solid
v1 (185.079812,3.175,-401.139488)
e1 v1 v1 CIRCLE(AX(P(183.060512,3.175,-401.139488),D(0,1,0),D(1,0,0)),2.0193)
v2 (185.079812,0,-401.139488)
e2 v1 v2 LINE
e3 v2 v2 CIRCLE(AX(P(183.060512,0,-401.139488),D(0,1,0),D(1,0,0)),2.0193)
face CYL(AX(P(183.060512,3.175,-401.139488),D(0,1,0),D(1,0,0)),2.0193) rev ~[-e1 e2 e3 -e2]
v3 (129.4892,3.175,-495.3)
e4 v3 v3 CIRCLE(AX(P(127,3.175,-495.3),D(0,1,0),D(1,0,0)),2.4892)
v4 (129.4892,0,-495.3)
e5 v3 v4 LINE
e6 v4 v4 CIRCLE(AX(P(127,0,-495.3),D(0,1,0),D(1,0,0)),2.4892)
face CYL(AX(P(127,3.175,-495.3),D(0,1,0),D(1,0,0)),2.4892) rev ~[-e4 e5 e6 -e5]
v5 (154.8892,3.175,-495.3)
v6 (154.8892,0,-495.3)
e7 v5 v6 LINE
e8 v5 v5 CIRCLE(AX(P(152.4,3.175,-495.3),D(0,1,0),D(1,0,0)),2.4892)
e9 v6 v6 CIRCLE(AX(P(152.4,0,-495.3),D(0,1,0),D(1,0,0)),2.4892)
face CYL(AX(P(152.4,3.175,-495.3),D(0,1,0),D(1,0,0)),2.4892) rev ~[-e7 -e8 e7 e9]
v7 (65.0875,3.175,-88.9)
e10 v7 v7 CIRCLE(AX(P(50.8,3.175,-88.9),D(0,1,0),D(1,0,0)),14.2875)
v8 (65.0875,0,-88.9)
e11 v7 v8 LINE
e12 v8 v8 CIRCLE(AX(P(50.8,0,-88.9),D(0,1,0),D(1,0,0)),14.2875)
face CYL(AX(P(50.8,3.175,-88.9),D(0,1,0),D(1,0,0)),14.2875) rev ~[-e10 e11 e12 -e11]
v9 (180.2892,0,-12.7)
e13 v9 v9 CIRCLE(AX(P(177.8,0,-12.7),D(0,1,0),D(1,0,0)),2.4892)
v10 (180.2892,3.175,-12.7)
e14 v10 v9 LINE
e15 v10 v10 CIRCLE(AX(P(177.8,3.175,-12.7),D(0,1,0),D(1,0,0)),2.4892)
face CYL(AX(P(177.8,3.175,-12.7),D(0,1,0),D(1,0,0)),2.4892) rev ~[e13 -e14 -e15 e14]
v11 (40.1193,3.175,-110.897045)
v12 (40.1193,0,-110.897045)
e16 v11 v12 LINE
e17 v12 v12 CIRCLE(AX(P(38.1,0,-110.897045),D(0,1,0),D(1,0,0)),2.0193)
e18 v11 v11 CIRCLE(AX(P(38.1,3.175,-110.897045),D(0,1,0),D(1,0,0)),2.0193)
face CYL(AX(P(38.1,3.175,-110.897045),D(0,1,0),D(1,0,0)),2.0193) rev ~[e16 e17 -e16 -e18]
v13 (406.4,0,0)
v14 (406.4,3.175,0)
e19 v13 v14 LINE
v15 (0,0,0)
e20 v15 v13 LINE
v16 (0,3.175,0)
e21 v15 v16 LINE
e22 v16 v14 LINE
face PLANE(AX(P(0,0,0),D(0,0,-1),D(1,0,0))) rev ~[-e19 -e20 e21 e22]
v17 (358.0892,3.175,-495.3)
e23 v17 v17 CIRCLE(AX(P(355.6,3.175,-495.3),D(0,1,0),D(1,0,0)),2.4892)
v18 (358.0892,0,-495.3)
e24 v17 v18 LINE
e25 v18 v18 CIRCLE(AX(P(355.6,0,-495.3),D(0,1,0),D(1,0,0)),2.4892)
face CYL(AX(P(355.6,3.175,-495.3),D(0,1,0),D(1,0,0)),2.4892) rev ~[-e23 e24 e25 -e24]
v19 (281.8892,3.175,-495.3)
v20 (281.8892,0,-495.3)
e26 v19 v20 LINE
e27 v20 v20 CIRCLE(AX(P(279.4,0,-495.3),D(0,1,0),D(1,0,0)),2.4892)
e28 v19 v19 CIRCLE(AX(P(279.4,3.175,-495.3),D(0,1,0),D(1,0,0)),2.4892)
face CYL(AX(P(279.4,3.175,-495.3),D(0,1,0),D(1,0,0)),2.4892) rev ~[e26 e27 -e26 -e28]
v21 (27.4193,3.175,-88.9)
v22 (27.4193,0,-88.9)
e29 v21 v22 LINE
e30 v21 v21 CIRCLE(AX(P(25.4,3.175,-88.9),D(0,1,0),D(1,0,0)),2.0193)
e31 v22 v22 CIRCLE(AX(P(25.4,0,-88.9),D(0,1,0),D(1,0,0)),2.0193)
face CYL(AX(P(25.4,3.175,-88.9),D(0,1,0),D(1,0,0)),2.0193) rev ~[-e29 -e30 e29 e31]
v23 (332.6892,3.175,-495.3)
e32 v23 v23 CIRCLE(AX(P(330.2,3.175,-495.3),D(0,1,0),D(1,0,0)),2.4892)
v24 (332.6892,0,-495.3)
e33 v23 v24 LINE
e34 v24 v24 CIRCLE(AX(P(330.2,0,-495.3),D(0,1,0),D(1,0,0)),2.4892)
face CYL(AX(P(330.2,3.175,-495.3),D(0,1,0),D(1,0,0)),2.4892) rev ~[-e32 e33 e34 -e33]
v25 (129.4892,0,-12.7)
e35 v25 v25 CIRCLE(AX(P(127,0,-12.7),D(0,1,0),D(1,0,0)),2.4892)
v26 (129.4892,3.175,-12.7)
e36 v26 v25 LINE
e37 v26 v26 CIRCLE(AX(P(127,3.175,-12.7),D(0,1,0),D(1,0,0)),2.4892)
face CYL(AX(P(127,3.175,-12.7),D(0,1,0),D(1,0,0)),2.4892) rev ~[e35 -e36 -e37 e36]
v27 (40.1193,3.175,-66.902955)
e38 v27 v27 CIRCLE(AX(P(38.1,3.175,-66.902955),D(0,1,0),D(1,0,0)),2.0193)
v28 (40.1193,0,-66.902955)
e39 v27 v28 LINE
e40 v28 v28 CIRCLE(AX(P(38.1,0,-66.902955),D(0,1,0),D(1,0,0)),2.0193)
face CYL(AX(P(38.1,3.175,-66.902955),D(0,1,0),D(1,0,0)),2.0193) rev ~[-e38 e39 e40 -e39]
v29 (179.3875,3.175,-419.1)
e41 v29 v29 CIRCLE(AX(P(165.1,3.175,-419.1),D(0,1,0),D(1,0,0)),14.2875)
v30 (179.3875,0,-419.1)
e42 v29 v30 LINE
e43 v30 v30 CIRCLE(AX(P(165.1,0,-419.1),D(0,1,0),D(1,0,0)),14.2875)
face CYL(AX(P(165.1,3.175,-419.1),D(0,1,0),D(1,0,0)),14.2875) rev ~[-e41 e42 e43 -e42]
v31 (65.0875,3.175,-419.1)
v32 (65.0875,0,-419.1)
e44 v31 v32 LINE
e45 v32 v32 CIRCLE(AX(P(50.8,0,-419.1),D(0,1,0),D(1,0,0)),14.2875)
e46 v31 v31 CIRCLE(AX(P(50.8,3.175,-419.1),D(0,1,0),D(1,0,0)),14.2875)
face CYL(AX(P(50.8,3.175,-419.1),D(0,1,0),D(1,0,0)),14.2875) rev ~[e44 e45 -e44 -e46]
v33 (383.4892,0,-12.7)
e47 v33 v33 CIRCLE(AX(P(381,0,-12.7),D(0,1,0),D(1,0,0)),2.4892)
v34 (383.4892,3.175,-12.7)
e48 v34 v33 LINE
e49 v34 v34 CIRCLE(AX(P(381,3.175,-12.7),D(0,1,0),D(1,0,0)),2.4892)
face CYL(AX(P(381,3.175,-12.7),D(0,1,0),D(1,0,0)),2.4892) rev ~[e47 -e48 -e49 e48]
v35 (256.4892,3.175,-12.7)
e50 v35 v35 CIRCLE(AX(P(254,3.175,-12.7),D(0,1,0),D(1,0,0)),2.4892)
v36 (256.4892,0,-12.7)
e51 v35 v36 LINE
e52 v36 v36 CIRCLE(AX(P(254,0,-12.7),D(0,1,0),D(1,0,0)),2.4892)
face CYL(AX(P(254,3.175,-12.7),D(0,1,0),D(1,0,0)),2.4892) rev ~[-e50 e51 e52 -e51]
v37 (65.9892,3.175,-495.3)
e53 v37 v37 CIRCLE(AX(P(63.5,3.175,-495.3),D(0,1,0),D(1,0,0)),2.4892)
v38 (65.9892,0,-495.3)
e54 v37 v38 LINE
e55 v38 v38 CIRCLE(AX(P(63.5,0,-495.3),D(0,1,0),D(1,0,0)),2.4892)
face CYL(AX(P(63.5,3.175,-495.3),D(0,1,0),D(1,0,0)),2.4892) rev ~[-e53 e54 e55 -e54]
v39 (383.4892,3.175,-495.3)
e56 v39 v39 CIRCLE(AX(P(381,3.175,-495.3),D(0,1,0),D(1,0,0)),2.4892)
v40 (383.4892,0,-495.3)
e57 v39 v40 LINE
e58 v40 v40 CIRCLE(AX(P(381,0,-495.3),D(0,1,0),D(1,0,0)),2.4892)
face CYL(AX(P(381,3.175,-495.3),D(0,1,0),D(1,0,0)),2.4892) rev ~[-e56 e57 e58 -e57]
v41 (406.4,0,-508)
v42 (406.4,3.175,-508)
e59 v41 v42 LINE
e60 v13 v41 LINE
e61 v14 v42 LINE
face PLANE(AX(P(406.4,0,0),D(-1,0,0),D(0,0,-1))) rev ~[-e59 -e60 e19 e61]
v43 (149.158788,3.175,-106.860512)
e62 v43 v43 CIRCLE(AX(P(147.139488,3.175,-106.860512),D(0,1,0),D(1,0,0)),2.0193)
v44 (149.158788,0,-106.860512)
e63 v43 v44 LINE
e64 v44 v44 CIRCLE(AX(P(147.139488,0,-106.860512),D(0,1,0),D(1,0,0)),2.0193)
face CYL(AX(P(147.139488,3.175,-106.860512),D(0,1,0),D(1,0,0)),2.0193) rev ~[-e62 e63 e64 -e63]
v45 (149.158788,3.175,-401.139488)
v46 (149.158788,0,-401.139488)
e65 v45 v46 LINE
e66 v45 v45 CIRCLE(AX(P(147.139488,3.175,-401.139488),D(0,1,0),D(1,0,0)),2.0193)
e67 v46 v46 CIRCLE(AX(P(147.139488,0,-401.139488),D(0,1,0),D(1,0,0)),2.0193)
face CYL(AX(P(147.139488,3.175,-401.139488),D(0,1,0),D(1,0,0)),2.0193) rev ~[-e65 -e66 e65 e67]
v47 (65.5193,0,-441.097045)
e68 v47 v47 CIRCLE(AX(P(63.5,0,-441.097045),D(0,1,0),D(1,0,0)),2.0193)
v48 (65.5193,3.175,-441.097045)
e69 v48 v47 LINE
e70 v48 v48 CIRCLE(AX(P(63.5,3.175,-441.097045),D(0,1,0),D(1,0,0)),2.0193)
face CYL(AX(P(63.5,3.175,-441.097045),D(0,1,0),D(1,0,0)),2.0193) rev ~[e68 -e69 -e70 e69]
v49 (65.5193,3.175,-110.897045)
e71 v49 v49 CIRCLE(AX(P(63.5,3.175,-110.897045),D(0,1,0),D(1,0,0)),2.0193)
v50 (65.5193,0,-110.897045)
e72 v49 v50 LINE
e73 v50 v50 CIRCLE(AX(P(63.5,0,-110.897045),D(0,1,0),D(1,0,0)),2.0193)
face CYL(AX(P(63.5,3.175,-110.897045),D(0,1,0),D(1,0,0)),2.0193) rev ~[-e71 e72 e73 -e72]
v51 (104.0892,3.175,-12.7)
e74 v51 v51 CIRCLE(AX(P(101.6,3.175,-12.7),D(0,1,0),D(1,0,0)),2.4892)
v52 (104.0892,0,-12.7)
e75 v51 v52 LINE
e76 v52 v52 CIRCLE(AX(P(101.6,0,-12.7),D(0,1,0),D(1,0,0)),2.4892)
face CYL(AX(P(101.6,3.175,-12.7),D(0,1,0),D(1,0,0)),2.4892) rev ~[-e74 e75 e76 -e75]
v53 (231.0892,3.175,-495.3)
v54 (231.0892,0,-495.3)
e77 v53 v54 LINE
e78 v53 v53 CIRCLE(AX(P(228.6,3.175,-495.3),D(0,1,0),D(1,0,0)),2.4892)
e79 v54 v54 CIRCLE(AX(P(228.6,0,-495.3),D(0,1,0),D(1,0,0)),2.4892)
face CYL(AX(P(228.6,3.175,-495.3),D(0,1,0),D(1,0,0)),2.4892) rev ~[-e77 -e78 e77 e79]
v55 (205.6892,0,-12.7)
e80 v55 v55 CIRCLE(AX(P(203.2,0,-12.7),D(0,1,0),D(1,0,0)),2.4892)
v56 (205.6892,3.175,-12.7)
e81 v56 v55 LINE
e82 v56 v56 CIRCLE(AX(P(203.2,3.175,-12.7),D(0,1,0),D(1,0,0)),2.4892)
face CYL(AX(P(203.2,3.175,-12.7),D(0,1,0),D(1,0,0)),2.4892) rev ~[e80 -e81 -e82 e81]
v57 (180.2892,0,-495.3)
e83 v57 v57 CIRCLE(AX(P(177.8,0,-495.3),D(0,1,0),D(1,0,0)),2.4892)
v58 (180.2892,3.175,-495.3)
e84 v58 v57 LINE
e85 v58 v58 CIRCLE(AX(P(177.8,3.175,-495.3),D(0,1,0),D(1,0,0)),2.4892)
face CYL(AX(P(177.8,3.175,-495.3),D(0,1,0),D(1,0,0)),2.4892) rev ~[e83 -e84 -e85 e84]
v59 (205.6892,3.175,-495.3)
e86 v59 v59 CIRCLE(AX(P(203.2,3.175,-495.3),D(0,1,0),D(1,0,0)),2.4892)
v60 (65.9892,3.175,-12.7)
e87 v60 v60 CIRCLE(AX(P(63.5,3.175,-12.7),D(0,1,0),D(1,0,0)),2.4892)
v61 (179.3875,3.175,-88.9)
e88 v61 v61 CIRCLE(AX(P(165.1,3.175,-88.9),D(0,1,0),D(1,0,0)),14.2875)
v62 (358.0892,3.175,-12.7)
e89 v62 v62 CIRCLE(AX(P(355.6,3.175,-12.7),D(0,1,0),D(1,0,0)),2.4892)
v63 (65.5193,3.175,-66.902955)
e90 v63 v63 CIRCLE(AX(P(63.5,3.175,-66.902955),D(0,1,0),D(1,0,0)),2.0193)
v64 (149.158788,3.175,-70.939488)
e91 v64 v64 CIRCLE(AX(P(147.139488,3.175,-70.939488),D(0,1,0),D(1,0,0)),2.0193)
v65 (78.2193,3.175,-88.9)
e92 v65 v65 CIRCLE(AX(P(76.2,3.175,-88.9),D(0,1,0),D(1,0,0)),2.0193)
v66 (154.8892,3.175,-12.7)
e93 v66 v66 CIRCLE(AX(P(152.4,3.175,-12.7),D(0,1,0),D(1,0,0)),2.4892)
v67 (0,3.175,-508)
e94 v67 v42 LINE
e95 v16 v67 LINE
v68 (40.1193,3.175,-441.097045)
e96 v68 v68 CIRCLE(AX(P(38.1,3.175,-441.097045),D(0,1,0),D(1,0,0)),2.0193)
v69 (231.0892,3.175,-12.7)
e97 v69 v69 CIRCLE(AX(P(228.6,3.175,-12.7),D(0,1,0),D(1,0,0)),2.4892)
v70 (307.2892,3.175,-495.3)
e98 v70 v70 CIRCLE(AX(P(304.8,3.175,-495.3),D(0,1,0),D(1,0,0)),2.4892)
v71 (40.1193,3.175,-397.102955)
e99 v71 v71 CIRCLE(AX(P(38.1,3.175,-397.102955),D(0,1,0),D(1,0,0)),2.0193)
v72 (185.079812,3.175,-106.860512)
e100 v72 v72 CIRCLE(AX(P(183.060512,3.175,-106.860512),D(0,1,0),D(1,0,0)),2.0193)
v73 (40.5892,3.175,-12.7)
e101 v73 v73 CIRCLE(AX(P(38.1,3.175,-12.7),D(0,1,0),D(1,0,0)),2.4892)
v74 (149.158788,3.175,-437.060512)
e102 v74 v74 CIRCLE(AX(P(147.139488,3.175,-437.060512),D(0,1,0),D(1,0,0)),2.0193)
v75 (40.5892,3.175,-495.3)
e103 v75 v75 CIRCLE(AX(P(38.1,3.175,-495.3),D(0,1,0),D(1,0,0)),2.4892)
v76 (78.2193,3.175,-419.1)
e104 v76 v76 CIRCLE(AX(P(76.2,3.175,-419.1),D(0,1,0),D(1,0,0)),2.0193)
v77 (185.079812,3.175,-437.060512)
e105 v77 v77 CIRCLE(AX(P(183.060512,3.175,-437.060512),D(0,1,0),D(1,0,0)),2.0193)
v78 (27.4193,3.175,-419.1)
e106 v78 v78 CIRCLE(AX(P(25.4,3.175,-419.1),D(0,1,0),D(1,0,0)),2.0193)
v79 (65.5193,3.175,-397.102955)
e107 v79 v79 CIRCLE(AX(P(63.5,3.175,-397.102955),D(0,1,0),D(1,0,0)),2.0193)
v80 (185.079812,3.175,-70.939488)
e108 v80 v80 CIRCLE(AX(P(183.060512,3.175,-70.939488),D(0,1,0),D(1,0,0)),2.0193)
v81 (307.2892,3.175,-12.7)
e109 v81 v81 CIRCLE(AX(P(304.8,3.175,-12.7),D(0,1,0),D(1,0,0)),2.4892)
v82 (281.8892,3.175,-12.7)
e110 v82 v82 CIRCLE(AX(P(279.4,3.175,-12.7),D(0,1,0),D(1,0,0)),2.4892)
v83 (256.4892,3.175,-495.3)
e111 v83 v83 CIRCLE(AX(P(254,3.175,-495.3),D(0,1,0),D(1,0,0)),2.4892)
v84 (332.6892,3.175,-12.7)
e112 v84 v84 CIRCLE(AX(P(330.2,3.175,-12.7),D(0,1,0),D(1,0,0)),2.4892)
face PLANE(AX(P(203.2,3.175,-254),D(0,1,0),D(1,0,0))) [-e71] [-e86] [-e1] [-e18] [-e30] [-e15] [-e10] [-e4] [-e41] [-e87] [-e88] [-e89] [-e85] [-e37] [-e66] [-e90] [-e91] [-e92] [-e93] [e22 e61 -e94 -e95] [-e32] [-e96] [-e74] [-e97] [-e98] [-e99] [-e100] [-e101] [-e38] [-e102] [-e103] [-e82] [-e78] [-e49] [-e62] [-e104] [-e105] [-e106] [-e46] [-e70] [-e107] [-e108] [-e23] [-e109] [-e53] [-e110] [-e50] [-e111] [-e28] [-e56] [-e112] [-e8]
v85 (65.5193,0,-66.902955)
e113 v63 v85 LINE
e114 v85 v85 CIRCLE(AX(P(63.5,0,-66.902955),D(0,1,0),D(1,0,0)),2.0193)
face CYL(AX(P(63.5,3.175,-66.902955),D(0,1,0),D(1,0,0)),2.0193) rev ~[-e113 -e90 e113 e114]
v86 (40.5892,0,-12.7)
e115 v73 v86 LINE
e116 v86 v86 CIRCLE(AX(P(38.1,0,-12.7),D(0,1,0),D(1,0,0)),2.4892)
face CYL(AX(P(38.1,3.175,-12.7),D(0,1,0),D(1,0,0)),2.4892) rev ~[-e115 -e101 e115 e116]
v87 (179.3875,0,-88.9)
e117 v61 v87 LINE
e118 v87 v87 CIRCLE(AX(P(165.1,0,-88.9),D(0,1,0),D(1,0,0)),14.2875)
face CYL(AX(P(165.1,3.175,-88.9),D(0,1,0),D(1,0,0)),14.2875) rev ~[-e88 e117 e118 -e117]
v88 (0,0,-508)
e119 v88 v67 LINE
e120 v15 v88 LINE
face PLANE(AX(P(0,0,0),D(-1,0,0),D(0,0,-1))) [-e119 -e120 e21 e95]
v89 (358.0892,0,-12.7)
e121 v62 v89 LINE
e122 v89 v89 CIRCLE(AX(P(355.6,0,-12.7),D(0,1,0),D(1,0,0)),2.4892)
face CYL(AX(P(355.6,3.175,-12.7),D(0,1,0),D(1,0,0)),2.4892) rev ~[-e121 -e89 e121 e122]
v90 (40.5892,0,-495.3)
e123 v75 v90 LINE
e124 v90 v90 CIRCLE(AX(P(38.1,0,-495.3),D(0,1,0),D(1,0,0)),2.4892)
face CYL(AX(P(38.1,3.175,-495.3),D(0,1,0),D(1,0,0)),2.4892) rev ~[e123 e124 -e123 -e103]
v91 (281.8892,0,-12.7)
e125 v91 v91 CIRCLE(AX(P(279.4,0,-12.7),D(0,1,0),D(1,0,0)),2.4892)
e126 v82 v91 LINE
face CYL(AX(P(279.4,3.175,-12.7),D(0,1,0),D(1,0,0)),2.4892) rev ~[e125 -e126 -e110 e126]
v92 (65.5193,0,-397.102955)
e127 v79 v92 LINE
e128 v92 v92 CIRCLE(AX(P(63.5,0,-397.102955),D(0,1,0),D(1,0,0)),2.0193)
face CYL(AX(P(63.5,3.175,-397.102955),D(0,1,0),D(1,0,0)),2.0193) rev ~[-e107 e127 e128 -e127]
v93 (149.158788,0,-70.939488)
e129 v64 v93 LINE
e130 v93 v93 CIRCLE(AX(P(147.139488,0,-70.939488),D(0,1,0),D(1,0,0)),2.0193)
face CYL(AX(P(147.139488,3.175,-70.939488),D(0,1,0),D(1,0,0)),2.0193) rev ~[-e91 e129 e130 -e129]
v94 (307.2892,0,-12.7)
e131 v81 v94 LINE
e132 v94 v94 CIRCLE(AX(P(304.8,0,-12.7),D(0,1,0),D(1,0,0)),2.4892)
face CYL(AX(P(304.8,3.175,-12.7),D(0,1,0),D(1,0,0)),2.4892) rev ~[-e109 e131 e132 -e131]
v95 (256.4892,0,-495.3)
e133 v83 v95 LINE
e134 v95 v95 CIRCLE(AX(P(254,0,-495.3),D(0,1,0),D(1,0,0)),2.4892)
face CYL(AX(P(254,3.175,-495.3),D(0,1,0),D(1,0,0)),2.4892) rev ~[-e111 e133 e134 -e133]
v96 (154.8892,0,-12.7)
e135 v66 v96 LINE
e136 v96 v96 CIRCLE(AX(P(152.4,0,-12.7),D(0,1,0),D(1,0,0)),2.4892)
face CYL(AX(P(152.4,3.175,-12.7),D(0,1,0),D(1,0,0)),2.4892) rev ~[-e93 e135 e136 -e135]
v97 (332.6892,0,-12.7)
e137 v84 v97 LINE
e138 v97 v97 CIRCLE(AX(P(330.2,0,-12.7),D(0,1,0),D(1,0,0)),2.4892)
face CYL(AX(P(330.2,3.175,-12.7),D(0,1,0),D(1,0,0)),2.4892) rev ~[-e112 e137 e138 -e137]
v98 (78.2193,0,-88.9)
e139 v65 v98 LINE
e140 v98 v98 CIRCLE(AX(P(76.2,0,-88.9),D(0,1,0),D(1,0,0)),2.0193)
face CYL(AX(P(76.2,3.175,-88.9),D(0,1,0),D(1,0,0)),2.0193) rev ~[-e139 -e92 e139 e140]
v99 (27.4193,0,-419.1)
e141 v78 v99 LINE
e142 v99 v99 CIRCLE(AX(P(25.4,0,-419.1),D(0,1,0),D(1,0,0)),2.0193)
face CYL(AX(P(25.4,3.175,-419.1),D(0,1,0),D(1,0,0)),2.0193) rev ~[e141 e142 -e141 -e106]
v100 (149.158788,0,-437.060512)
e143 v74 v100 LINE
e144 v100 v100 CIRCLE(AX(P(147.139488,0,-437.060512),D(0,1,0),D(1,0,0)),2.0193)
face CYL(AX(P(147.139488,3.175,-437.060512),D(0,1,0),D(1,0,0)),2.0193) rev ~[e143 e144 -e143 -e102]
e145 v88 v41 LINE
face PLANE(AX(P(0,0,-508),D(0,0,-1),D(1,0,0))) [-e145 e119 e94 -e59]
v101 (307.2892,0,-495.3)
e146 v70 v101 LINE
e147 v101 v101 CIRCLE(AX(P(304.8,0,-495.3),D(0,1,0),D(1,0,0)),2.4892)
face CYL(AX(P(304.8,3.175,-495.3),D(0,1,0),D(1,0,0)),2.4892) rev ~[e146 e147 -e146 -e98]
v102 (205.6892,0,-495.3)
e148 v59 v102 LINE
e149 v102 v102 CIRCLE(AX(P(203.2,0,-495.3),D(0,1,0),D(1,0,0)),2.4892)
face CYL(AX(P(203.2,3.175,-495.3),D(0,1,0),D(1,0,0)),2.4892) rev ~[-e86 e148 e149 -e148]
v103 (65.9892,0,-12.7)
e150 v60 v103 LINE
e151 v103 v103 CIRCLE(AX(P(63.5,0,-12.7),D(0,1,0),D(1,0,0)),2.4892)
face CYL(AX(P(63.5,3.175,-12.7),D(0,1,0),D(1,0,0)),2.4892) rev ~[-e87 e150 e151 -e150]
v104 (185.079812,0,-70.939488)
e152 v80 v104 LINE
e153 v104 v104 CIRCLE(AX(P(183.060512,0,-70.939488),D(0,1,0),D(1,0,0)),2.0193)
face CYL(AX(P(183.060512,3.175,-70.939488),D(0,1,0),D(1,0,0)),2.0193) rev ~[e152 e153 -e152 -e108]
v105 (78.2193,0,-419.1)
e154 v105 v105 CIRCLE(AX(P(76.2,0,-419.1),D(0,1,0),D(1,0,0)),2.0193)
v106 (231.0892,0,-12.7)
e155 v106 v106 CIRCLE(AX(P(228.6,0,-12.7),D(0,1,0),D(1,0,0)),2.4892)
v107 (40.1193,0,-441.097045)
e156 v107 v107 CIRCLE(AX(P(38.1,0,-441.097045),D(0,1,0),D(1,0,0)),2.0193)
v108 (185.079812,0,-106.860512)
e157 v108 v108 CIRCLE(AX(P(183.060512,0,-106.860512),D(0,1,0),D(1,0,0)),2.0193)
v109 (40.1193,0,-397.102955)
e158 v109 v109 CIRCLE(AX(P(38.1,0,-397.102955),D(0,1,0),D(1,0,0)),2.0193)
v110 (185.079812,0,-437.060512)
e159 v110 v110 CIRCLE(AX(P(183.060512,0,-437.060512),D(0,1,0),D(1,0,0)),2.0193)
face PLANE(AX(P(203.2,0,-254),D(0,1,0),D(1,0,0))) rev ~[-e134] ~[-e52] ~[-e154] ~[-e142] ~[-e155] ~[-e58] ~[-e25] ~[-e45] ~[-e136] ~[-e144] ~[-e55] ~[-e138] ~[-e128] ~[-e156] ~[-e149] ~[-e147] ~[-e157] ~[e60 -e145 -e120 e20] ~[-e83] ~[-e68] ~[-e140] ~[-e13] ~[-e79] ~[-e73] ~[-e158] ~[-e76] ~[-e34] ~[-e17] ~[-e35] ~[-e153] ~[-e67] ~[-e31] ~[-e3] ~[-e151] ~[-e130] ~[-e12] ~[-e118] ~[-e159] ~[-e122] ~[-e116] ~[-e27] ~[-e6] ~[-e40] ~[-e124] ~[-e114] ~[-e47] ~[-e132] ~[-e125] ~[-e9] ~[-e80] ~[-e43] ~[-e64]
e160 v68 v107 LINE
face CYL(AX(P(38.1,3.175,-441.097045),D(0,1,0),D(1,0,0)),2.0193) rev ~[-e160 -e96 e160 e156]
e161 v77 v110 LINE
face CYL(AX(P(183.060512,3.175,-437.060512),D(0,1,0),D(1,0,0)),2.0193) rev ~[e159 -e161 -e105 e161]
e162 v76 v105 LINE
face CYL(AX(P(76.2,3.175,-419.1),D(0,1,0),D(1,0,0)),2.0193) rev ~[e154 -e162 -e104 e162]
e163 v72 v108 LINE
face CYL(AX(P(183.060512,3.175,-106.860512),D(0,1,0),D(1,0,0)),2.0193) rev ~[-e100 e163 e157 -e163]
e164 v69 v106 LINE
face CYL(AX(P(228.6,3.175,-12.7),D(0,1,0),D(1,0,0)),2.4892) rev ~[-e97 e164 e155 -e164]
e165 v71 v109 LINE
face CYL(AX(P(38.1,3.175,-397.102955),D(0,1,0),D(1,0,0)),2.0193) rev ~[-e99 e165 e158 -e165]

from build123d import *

# Parameters (mm, degrees)
SKETCH1_W               = 406.4
SKETCH1_H               = 508
BOSS_EXTRUDE1_DEPTH     = 3.175
SKETCH2_R               = 14.2875
CUT_EXTRUDE1_DEPTH      = 3.175
SKETCH3_R               = 2.4892
CUT_EXTRUDE2_DEPTH      = 1
CUT_EXTRUDE2_DEPTH_BACK = 4.175
SKETCH4_R               = 2.0193
CUT_EXTRUDE3_DEPTH      = 1
CUT_EXTRUDE3_DEPTH_BACK = 4.175


with BuildPart() as part:
    # Sketch1 → Boss-Extrude1 (new body)
    with BuildSketch(Plane(origin=(0, 0, 0), x_dir=(1, 0, 0), z_dir=(0, 1, 0))):
        with Locations((203.2, 254)):
            Rectangle(SKETCH1_W, SKETCH1_H)
    extrude(amount=BOSS_EXTRUDE1_DEPTH)

    # Sketch2 → Cut-Extrude1 (cut)
    with BuildSketch(Plane(origin=(0, 3.175, 0), x_dir=(1, 0, 0), z_dir=(0, 1, 0))):
        with Locations((50.8, 419.1)):
            Circle(SKETCH2_R)
        with Locations((165.1, 419.1)):
            Circle(SKETCH2_R)
        with Locations((50.8, 88.9)):
            Circle(SKETCH2_R)
        with Locations((165.1, 88.9)):
            Circle(SKETCH2_R)
    extrude(amount=-CUT_EXTRUDE1_DEPTH, mode=Mode.SUBTRACT)

    # Sketch3 → Cut-Extrude2 (cut, two sides)
    with BuildSketch(Plane(origin=(0, 3.175, 0), x_dir=(1, 0, 0), z_dir=(0, 1, 0))) as cut_extrude2_sk:
        with Locations((38.1, 12.7)):
            Circle(SKETCH3_R)
        with Locations((63.5, 12.7)):
            Circle(SKETCH3_R)
        with Locations((127, 12.7)):
            Circle(SKETCH3_R)
        with Locations((152.4, 12.7)):
            Circle(SKETCH3_R)
        with Locations((177.8, 12.7)):
            Circle(SKETCH3_R)
        with Locations((203.2, 12.7)):
            Circle(SKETCH3_R)
        with Locations((228.6, 12.7)):
            Circle(SKETCH3_R)
        with Locations((254, 12.7)):
            Circle(SKETCH3_R)
        with Locations((279.4, 12.7)):
            Circle(SKETCH3_R)
        with Locations((304.8, 12.7)):
            Circle(SKETCH3_R)
        with Locations((330.2, 12.7)):
            Circle(SKETCH3_R)
        with Locations((355.6, 12.7)):
            Circle(SKETCH3_R)
        with Locations((381, 12.7)):
            Circle(SKETCH3_R)
        with Locations((381, 495.3)):
            Circle(SKETCH3_R)
        with Locations((355.6, 495.3)):
            Circle(SKETCH3_R)
        with Locations((330.2, 495.3)):
            Circle(SKETCH3_R)
        with Locations((304.8, 495.3)):
            Circle(SKETCH3_R)
        with Locations((279.4, 495.3)):
            Circle(SKETCH3_R)
        with Locations((254, 495.3)):
            Circle(SKETCH3_R)
        with Locations((228.6, 495.3)):
            Circle(SKETCH3_R)
        with Locations((203.2, 495.3)):
            Circle(SKETCH3_R)
        with Locations((177.8, 495.3)):
            Circle(SKETCH3_R)
        with Locations((152.4, 495.3)):
            Circle(SKETCH3_R)
        with Locations((127, 495.3)):
            Circle(SKETCH3_R)
        with Locations((63.5, 495.3)):
            Circle(SKETCH3_R)
        with Locations((38.1, 495.3)):
            Circle(SKETCH3_R)
        with Locations((101.6, 12.7)):
            Circle(SKETCH3_R)
    extrude(amount=CUT_EXTRUDE2_DEPTH, mode=Mode.SUBTRACT)
    extrude(cut_extrude2_sk.sketch, amount=-CUT_EXTRUDE2_DEPTH_BACK, mode=Mode.SUBTRACT)

    # Sketch4 → Cut-Extrude3 (cut, two sides)
    with BuildSketch(Plane(origin=(0, 3.175, 0), x_dir=(1, 0, 0), z_dir=(0, 1, 0))) as cut_extrude3_sk:
        with Locations((76.2, 419.1)):
            Circle(SKETCH4_R)
        with Locations((25.4, 419.1)):
            Circle(SKETCH4_R)
        with Locations((38.1, 441.097045256)):
            Circle(SKETCH4_R)
        with Locations((63.5, 441.097045256)):
            Circle(SKETCH4_R)
        with Locations((63.5, 397.102954744)):
            Circle(SKETCH4_R)
        with Locations((38.1, 397.102954744)):
            Circle(SKETCH4_R)
        with Locations((147.139487788, 437.060512212)):
            Circle(SKETCH4_R)
        with Locations((183.060512212, 437.060512212)):
            Circle(SKETCH4_R)
        with Locations((183.060512212, 401.139487788)):
            Circle(SKETCH4_R)
        with Locations((147.139487788, 401.139487788)):
            Circle(SKETCH4_R)
        with Locations((147.139487788, 106.860512212)):
            Circle(SKETCH4_R)
        with Locations((183.060512212, 106.860512212)):
            Circle(SKETCH4_R)
        with Locations((183.060512212, 70.939487788)):
            Circle(SKETCH4_R)
        with Locations((147.139487788, 70.939487788)):
            Circle(SKETCH4_R)
        with Locations((38.1, 110.897045256)):
            Circle(SKETCH4_R)
        with Locations((63.5, 110.897045256)):
            Circle(SKETCH4_R)
        with Locations((63.5, 66.902954744)):
            Circle(SKETCH4_R)
        with Locations((38.1, 66.902954744)):
            Circle(SKETCH4_R)
        with Locations((25.4, 88.9)):
            Circle(SKETCH4_R)
        with Locations((76.2, 88.9)):
            Circle(SKETCH4_R)
    extrude(amount=CUT_EXTRUDE3_DEPTH, mode=Mode.SUBTRACT)
    extrude(cut_extrude3_sk.sketch, amount=-CUT_EXTRUDE3_DEPTH_BACK, mode=Mode.SUBTRACT)


solid = part.part
